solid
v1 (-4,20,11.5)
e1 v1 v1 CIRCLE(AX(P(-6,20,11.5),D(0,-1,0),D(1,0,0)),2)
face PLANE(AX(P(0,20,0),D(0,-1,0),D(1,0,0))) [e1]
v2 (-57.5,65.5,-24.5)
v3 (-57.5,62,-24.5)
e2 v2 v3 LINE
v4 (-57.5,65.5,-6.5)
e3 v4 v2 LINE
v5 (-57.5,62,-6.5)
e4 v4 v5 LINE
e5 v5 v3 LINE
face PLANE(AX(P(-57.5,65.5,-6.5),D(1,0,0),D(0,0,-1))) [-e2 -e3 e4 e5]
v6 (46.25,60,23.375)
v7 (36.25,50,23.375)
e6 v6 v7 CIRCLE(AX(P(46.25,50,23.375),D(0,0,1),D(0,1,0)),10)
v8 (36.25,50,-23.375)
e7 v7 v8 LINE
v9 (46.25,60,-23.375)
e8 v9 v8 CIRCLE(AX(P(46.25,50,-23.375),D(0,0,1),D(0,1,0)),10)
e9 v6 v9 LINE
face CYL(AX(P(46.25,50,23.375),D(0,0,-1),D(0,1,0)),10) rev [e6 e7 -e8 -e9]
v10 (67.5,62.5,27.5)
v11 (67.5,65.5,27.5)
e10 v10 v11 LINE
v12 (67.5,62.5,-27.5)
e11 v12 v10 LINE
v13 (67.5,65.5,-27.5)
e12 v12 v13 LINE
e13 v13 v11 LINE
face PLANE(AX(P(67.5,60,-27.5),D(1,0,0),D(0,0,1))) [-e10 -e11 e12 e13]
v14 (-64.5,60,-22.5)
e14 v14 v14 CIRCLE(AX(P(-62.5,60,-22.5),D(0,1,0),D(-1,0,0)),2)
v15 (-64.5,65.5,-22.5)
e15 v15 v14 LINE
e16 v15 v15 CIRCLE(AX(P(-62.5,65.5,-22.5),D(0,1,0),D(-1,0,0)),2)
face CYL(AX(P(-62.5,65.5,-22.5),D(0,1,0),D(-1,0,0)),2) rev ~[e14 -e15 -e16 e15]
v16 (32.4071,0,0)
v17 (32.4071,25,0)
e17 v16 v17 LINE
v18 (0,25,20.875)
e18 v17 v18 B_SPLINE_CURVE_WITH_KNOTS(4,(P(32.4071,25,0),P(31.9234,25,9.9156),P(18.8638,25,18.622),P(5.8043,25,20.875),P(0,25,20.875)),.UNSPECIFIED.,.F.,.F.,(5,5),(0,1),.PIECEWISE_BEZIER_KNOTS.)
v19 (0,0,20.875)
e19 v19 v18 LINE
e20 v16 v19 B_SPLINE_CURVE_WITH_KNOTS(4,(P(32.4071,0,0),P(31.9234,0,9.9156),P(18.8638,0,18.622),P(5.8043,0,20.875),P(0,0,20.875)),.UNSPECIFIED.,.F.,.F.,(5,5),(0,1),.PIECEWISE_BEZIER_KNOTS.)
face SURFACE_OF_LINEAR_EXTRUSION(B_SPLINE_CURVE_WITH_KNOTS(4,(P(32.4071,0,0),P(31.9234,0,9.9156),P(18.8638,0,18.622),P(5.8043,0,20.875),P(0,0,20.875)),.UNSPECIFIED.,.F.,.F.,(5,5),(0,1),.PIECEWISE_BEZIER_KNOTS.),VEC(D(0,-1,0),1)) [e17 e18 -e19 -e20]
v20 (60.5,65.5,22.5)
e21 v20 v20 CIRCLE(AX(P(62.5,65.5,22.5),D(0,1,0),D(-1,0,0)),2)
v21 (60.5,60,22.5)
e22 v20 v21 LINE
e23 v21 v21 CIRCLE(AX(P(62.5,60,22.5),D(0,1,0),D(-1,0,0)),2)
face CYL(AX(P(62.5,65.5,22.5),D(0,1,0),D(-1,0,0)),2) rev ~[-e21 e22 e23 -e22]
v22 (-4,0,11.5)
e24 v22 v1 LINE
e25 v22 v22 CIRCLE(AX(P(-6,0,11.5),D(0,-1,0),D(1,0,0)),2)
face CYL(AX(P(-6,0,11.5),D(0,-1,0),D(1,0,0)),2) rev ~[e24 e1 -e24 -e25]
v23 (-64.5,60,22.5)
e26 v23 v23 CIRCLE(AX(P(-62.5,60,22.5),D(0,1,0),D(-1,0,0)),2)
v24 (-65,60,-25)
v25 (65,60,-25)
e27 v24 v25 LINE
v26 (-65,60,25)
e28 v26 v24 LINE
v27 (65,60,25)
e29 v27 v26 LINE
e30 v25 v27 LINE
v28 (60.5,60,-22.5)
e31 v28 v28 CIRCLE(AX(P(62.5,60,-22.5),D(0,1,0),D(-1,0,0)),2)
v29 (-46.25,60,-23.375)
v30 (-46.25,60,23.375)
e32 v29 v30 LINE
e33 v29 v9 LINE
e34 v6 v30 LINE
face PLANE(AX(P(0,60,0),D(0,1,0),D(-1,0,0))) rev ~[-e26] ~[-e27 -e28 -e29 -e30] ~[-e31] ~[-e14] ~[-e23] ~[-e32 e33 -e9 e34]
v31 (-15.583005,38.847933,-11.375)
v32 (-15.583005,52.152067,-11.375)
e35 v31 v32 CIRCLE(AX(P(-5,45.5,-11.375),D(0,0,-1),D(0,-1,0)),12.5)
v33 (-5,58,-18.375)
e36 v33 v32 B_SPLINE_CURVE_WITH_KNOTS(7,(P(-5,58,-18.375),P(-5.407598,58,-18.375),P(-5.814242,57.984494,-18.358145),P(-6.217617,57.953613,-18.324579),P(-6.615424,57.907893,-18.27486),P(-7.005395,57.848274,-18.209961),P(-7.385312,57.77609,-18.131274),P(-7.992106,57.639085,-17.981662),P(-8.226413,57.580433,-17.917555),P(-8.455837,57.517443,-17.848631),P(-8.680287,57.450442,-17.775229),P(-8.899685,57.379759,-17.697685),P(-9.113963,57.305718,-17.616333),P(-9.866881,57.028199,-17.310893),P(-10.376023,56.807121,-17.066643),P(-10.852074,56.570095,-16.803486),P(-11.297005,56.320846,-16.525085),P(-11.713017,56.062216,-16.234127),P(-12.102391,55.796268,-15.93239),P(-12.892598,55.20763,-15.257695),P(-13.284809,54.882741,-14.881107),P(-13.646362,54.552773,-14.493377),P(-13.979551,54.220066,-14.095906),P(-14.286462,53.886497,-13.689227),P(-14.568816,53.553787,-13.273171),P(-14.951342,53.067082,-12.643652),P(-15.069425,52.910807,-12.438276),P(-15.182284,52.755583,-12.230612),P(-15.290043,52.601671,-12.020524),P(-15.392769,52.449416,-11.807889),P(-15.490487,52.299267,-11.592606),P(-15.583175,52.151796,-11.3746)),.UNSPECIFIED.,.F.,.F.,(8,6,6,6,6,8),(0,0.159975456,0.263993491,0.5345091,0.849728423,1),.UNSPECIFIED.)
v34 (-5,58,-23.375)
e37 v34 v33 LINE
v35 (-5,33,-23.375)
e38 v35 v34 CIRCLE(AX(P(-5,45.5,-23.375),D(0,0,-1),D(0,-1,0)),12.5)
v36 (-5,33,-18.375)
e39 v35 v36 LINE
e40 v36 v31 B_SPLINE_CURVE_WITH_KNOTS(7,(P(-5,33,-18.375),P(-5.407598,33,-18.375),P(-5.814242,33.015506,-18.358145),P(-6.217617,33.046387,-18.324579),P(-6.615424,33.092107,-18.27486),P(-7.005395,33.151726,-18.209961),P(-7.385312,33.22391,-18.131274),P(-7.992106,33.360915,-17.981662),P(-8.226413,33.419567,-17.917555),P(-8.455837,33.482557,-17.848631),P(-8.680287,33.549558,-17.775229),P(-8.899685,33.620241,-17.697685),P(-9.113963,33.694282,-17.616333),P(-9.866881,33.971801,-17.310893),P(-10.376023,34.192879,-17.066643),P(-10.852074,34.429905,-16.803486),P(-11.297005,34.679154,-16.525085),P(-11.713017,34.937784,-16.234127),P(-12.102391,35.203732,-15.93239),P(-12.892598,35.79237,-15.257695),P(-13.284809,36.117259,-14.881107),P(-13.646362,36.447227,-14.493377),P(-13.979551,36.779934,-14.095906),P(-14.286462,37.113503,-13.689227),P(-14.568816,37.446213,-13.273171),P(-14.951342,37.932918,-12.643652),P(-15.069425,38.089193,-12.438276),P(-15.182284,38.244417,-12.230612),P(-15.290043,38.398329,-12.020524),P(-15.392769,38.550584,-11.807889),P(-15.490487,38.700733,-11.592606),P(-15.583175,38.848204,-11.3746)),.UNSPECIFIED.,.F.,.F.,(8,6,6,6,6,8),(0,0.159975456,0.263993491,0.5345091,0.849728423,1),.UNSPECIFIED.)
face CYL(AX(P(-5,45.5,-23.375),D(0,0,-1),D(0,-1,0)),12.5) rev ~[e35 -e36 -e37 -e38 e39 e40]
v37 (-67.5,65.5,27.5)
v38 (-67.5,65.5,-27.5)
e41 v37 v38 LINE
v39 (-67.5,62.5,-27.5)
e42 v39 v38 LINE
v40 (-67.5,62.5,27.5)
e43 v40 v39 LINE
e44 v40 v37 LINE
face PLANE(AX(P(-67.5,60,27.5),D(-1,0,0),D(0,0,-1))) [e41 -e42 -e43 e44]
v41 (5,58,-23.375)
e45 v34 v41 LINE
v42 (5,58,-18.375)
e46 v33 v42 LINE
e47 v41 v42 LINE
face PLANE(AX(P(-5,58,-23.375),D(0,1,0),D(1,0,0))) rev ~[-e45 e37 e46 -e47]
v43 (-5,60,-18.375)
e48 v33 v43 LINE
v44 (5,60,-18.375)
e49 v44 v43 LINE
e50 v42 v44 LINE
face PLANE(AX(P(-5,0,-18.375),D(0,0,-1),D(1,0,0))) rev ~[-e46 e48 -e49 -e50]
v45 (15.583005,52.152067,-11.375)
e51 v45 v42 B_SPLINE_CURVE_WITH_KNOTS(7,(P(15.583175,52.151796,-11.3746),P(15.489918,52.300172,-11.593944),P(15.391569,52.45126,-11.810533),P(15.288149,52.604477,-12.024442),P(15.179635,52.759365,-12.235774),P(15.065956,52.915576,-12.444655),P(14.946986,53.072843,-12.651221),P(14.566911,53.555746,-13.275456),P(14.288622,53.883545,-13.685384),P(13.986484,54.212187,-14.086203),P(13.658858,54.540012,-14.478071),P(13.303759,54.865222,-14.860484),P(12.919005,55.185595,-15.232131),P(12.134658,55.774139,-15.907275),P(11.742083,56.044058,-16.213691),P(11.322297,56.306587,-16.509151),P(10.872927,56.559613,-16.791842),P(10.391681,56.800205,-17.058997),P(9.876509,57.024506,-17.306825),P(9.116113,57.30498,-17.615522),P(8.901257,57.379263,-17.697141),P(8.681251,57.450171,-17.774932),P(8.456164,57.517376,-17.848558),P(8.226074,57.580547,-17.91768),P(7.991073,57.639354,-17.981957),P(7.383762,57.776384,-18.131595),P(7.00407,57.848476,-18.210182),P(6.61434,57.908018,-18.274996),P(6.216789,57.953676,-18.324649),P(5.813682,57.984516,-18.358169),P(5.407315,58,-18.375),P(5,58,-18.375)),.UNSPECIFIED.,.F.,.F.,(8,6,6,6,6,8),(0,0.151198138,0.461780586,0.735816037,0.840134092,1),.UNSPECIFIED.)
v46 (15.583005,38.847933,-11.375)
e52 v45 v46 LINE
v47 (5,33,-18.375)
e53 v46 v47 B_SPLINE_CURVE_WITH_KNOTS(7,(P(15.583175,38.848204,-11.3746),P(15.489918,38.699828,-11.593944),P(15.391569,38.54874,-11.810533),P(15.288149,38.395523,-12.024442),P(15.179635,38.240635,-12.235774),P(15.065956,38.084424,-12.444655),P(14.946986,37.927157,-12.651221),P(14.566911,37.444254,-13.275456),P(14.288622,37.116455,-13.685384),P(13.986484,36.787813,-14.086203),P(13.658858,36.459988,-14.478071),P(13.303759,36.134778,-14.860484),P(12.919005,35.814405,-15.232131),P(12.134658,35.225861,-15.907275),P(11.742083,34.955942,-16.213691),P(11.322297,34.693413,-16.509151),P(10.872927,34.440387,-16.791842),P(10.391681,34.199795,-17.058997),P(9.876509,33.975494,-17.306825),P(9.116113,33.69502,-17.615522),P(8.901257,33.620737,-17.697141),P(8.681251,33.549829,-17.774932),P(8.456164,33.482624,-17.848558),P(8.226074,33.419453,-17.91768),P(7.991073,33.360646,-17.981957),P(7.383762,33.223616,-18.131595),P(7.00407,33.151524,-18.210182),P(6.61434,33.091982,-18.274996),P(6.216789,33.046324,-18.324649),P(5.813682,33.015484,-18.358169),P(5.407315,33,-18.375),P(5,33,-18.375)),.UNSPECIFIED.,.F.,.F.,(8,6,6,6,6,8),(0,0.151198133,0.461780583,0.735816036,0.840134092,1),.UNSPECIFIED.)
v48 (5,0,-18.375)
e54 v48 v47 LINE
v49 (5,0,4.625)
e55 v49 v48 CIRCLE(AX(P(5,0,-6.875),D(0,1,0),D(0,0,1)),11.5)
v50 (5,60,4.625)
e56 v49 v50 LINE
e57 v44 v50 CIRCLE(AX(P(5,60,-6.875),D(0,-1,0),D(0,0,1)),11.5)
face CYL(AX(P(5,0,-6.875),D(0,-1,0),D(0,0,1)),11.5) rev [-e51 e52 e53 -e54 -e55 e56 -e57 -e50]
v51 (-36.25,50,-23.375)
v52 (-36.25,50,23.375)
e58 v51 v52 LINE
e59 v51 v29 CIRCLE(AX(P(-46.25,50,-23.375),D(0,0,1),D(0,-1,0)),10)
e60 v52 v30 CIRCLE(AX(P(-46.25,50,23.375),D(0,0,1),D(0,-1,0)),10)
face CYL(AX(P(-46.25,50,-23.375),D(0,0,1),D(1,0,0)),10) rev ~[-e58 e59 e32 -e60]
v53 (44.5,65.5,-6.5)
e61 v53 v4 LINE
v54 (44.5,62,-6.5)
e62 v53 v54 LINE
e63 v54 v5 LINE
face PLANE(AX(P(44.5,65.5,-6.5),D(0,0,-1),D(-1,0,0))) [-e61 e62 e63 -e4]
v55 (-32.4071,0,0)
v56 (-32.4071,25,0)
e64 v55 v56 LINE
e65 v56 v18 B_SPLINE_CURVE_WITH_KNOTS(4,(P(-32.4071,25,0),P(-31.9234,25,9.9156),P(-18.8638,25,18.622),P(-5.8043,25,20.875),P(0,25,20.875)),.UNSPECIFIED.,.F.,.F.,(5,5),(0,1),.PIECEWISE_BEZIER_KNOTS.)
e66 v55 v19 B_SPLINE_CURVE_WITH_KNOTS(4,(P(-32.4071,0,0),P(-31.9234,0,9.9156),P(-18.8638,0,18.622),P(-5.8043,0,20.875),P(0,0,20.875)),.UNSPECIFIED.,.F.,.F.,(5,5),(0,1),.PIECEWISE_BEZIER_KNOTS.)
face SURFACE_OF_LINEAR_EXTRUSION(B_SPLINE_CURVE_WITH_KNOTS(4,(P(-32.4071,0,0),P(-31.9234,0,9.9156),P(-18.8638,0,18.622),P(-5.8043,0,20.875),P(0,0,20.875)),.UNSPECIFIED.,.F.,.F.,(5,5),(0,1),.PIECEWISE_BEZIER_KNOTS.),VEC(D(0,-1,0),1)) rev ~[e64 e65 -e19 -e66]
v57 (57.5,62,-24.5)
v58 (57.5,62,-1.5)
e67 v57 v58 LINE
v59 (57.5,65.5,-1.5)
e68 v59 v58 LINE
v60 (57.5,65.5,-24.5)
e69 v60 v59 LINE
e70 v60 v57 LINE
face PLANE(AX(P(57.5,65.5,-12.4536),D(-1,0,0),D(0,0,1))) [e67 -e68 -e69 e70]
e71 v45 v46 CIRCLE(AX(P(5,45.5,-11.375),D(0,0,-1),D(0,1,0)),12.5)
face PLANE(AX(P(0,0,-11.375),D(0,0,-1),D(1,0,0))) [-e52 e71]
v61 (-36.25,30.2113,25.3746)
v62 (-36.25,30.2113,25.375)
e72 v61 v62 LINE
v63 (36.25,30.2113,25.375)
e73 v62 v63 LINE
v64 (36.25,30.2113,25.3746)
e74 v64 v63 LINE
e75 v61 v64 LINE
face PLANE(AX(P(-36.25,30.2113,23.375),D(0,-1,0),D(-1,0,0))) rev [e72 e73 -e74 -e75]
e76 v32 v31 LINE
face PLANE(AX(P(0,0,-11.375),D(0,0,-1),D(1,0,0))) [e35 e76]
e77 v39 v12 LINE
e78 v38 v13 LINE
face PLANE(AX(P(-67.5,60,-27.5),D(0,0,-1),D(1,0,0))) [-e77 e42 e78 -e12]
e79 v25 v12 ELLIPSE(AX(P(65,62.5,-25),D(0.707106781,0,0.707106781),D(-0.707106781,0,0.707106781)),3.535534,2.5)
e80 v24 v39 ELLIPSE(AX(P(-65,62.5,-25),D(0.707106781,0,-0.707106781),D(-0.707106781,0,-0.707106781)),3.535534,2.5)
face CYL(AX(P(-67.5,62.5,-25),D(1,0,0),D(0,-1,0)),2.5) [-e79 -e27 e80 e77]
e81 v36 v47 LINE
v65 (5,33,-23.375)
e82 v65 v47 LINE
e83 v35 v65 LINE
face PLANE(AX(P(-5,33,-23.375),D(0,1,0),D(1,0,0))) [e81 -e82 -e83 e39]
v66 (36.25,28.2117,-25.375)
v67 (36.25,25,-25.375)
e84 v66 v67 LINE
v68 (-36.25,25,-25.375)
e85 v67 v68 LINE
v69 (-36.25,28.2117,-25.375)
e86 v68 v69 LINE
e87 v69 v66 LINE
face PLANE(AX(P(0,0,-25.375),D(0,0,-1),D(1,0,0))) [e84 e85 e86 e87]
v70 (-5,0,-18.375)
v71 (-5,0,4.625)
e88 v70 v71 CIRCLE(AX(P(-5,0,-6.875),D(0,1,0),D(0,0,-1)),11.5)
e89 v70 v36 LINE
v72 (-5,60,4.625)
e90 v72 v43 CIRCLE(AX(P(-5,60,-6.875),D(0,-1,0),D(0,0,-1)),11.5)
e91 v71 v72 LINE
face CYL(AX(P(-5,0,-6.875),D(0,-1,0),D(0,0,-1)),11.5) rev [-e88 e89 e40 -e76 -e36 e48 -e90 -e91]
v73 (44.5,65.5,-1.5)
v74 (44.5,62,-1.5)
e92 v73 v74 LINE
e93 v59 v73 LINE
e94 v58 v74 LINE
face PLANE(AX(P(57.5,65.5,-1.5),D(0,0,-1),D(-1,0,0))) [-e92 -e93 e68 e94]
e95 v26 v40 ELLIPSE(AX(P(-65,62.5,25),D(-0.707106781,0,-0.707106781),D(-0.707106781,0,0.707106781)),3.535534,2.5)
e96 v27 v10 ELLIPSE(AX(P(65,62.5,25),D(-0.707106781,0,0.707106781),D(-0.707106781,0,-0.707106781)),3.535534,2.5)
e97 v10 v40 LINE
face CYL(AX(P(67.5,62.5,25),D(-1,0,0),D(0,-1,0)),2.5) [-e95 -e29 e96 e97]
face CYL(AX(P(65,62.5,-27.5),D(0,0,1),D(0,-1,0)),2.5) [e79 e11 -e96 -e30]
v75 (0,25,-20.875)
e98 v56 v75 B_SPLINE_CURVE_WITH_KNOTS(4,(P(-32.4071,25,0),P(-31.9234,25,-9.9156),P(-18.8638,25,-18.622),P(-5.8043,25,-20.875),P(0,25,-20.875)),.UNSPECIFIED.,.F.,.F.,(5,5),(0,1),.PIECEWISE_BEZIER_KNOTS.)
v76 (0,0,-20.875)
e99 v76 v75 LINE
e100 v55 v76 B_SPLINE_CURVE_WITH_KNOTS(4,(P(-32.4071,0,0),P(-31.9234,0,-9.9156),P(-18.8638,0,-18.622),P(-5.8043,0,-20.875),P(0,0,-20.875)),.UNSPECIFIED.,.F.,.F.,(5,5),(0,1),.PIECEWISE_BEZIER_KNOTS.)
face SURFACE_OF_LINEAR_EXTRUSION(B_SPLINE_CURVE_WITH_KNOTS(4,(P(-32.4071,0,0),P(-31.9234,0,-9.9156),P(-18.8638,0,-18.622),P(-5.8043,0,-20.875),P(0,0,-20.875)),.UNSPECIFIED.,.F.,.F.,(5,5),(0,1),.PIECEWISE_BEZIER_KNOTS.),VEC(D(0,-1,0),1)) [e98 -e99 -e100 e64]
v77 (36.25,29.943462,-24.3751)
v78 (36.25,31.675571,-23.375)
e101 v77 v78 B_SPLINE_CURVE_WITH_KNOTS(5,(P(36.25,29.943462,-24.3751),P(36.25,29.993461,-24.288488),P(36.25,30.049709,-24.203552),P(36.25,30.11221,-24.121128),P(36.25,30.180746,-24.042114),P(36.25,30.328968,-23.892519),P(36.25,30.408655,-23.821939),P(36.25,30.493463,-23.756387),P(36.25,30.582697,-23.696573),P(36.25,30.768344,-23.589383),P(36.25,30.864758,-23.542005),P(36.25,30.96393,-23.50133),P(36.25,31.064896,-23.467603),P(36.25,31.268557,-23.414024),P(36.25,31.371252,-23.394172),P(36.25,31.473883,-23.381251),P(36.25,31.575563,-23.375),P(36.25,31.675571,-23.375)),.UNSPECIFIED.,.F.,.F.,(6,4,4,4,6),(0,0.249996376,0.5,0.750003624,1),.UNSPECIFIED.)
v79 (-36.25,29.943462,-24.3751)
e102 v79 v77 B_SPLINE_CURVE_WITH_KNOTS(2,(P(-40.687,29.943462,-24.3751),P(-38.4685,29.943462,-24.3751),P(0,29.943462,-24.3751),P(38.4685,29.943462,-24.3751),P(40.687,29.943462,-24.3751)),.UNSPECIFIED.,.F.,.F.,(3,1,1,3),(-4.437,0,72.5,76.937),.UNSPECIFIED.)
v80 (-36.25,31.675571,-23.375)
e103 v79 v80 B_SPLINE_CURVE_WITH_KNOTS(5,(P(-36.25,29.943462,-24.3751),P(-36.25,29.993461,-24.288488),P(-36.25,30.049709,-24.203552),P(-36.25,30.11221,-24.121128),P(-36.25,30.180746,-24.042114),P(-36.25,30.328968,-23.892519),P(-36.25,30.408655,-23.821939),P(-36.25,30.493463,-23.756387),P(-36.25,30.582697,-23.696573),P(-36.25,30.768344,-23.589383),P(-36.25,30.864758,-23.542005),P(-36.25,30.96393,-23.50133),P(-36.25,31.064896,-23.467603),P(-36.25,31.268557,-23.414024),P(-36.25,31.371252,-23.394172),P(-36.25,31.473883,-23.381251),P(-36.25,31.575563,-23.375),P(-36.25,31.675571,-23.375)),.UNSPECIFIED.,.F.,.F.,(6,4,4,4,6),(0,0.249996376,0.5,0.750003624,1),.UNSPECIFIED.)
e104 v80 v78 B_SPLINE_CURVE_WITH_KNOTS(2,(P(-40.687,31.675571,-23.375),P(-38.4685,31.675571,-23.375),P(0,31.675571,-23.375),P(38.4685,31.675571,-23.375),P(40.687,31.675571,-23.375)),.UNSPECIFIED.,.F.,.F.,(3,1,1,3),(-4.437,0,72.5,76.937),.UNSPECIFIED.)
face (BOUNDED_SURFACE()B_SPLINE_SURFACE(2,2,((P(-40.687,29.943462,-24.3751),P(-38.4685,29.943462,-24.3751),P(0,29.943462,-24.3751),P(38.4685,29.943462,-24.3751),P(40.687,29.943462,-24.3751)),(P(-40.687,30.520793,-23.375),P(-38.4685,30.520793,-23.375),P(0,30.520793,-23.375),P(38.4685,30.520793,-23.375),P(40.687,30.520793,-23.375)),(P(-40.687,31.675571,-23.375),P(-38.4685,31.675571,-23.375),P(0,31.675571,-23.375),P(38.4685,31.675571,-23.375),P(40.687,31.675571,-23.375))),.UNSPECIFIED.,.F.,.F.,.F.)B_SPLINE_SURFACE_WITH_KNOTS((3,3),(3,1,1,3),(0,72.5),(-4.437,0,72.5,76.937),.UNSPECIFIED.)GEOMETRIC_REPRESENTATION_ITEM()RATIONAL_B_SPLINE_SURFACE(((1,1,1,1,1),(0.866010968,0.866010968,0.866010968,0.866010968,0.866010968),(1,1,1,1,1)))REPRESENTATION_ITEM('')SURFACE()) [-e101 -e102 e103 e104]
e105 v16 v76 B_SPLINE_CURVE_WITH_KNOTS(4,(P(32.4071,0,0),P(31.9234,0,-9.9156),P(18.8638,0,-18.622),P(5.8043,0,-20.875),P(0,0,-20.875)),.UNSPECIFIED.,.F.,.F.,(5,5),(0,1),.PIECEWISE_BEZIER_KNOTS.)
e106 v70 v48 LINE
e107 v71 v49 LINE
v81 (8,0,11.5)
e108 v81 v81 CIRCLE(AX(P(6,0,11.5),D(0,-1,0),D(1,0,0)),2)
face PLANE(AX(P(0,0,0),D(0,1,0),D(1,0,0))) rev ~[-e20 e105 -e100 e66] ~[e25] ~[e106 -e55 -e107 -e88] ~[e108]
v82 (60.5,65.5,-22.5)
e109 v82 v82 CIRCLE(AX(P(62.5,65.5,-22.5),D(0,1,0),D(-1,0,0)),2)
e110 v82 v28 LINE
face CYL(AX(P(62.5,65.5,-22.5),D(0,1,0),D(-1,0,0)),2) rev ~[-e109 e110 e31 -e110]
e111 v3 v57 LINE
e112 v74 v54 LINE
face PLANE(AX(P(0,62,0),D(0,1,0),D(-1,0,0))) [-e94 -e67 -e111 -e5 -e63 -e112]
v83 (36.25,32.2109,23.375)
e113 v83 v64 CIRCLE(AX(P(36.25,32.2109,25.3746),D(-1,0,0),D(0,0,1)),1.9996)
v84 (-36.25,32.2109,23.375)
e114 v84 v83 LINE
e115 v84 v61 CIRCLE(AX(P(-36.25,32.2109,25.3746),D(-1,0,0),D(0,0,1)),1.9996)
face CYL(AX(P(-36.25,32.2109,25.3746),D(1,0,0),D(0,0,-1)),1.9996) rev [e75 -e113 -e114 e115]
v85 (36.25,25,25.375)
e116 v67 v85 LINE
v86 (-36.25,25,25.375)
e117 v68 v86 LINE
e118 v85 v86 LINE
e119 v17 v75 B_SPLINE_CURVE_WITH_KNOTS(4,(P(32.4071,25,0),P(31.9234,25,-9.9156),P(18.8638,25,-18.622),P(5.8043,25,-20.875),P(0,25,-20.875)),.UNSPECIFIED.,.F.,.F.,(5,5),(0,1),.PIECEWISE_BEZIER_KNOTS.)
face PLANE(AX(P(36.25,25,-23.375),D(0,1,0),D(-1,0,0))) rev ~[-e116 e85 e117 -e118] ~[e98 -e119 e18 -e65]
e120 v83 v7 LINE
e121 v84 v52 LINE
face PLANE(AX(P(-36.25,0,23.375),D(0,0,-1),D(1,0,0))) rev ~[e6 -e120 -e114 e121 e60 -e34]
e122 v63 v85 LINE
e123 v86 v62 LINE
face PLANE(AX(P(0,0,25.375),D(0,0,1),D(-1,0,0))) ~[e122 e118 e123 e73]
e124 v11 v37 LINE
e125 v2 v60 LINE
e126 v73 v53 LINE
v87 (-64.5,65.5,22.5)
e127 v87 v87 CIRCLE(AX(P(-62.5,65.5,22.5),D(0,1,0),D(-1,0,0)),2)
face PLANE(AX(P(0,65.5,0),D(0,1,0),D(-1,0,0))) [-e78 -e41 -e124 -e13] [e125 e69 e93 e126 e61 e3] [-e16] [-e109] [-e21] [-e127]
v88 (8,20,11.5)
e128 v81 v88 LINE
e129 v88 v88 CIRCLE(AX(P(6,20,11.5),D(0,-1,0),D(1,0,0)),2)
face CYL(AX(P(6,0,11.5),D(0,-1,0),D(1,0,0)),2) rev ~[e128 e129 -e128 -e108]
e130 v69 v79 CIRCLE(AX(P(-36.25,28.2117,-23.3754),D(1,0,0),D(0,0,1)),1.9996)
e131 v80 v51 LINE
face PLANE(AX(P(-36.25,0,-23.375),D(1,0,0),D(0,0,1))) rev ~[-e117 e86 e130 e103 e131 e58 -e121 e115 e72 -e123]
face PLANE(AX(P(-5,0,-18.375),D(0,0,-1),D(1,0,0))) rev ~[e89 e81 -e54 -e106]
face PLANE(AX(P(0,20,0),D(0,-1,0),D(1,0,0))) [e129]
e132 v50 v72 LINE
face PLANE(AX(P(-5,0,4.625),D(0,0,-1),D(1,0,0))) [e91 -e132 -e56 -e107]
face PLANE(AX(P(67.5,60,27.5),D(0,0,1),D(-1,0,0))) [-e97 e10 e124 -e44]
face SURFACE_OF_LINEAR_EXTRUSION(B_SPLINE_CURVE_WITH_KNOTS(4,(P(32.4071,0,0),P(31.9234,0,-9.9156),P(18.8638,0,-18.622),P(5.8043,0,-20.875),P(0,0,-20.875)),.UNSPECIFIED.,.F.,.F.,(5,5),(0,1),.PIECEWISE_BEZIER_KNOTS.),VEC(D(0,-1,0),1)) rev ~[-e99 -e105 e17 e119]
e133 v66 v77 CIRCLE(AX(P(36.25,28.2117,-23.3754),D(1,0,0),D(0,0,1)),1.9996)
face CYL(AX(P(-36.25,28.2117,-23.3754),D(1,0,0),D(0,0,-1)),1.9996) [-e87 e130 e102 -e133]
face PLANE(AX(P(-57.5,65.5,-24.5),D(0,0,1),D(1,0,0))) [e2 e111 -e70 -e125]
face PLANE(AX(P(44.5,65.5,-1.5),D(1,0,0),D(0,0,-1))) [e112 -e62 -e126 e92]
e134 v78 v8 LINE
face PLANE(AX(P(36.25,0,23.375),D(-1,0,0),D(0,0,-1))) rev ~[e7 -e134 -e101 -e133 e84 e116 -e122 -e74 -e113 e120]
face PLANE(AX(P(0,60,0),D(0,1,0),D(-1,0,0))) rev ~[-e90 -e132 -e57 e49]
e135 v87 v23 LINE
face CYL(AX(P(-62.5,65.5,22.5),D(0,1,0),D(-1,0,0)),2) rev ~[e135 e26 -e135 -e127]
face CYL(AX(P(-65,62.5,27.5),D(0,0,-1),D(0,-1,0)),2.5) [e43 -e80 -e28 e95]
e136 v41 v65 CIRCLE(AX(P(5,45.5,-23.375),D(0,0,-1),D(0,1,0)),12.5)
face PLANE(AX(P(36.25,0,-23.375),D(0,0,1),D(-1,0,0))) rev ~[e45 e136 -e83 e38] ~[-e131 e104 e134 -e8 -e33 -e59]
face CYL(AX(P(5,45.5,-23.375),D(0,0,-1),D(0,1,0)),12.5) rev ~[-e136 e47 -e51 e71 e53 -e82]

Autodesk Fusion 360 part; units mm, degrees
sketch "Sketch1" plane through (0, 0, 0) normal (0, 1, 0) x (1, 0, 0)
  line L0 (-36.25, -23.375) -> (36.25, -23.375)
  line L1 (36.25, -23.375) -> (36.25, 23.375)
  line L2 (36.25, 23.375) -> (-36.25, 23.375)
  line L3 (-36.25, 23.375) -> (-36.25, -23.375)
  dimension "d62" = 72.5
  dimension "d63" = 46.75
  dimension "d64" = 23.375
  dimension "d65" = 36.25
extrude "Extrude9" add sketch "Sketch1" along normal blind 60
sketch "Sketch8" plane through (0, 0, 0) normal (0, 1, 0) x (1, 0, 0)
  line L0 (-5, -4.625) -> (5, -4.625)
  line L1 (-5, 18.375) -> (5, 18.375)
  arc A0 (-5, 18.375) -> (-5, -4.625) centre (-5, 6.875) ccw
  arc A1 (5, -4.625) -> (5, 18.375) centre (5, 6.875) ccw
  line L2 (36.25, 23.375) -> (-36.25, 23.375)
  line L3 (36.25, 23.375) -> (-36.25, 23.375)
  dimension "d39" = 10
  dimension "d40" = 5
  dimension "d94" = 23
  dimension "d123" = 28
extrude "Extrude10" cut sketch "Sketch8" along normal blind 95
sketch "Sketch9" plane through (0, 0, -23.375) normal (0, 0, -1) x (1, 0, 0)
  line L0 (36.25, 0) -> (-36.25, 0)
  line L1 (-36.25, 0) -> (-36.25, -60)
  line L2 (-36.25, -60) -> (36.25, -60)
  line L3 (36.25, -60) -> (36.25, 0)
  line L4 (-5, -33) -> (5, -33)
  line L5 (-5, -58) -> (5, -58)
  arc A0 (-5, -33) -> (-5, -58) centre (-5, -45.5) ccw
  arc A1 (5, -58) -> (5, -33) centre (5, -45.5) ccw
  dimension "d45" = 10
  dimension "d46" = 10
  dimension "d47" = 5
  dimension "d75" = 2
  dimension "d95" = 25
extrude "Extrude11" cut sketch "Sketch9" against normal blind 12 contours L4 L5 A0 A1
sketch "Sketch10" plane through (0, 60, 0) normal (0, 1, 0) x (-1, 0, 0)
  line L0 (36.25, -23.375) -> (36.25, 23.375)
  line L1 (36.25, 23.375) -> (-36.25, 23.375)
  line L2 (-36.25, 23.375) -> (-36.25, -23.375)
  line L3 (-36.25, -23.375) -> (36.25, -23.375)
  line L4 (-67.5, 27.5) -> (67.5, 27.5)
  line L5 (67.5, 27.5) -> (67.5, -27.5)
  line L6 (67.5, -27.5) -> (-67.5, -27.5)
  line L7 (-67.5, -27.5) -> (-67.5, 27.5)
  line L8 (5, -18.375) -> (-5, -18.375)
  arc A0 (-5, 4.625) -> (-5, -18.375) centre (-5, -6.875) ccw
  line L9 (-5, 4.625) -> (5, 4.625)
  arc A1 (5, -18.375) -> (5, 4.625) centre (5, -6.875) ccw
  line L10 (57.5, -6.5) -> (57.5, -24.5)
  line L11 (57.5, -24.5) -> (-57.5, -24.5)
  line L12 (-57.5, -24.5) -> (-57.5, -1.5)
  line L13 (-57.5, -1.5) -> (-44.5, -1.5)
  line L14 (-44.5, -1.5) -> (-44.5, -6.5)
  line L15 (-57.5, -12.4536) -> (-57.5, -1.5)
  line L16 (-44.5, -6.5) -> (57.5, -6.5)
  dimension "d50" = 135
  dimension "d51" = 55
  dimension "d52" = 27.5
  dimension "d53" = 67.5
  dimension "d141" = 115
  dimension "d142" = 10
  dimension "d143" = 13
  dimension "d144" = 23
  dimension "d145" = 18
  dimension "d146" = 3
extrude "Extrude12" add sketch "Sketch10" along normal blind 5.5 contours L0 L2 L3 L8 A0 A1 L16 | L0 L2 L3 L10 L11 L12 L13 L14 L15 L16 | L0 L1 L2 A0 L9 A1 L16 | A0 L9 A1 L16 | L8 A0 A1 L16 | L4 L5 L6 L7
sketch "Sketch13" plane through (0, 0, -23.375) normal (0, 0, -1) x (1, 0, 0)
  line L0 (5, -58) -> (-5, -58)
  arc A0 (-5, -33) -> (-5, -58) centre (-5, -45.5) ccw
  line L1 (-5, -33) -> (5, -33)
  arc A1 (5, -58) -> (5, -33) centre (5, -45.5) ccw
  line L2 (36.25, 0) -> (-36.25, 0)
  line L3 (-36.25, 0) -> (-36.25, -60)
  line L4 (-36.25, -60) -> (36.25, -60)
  line L5 (36.25, -60) -> (36.25, 0)
  line L6 (-36.25, -30.2113) -> (36.25, -30.2113)
  line L7 (36.25, -30.2113) -> (36.25, -25)
  line L8 (36.25, -25) -> (-36.25, -25)
  line L9 (-36.25, -25) -> (-36.25, -30.2113)
  dimension "d113" = 25
extrude "Extrude17" add sketch "Sketch13" along normal blind 2 contours L3 L5 L6 L7 L8 L9
sketch "Sketch14" plane through (0, 65.5, 0) normal (0, 1, 0) x (-1, 0, 0)
  line L0 (-67.5, -27.5) -> (67.5, -27.5)
  line L1 (67.5, -27.5) -> (67.5, 27.5)
  line L2 (67.5, 27.5) -> (-67.5, 27.5)
  line L3 (-67.5, 27.5) -> (-67.5, -27.5)
  circle A0 centre (-62.5, 22.5) radius 2
  circle A1 centre (-62.5, -22.5) radius 2
  circle A2 centre (62.5, 22.5) radius 2
  circle A3 centre (62.5, -22.5) radius 2
  dimension "d78" = 4
  dimension "d79" = 4
  dimension "d80" = 4
  dimension "d81" = 4
  dimension "d83" = 5
  dimension "d84" = 5
  dimension "d85" = 5
  dimension "d86" = 5
  dimension "d88" = 5
  dimension "d89" = 5
  dimension "d90" = 5
  dimension "d91" = 5
extrude "Extrude18" cut sketch "Sketch14" against normal blind 15 contours A0 | A1 | A2 | A3
fillet "Fillet1" radius 2 2 edges at (0, 30.2113, -25.375) (0, 30.2113, -23.375)
sketch "Sketch15" plane through (0, 0, 0) normal (0, -1, 0) x (1, 0, 0)
  line L0 (5, -18.375) -> (-5, -18.375)
  arc A0 (-5, 4.625) -> (-5, -18.375) centre (-5, -6.875) ccw
  line L1 (-5, 4.625) -> (5, 4.625)
  arc A1 (5, -18.375) -> (5, 4.625) centre (5, -6.875) ccw
  line L2 (-36.25, 23.375) -> (-36.25, -23.375)
  line L3 (-36.25, -23.375) -> (36.25, -23.375)
  line L4 (36.25, -23.375) -> (36.25, 23.375)
  line L5 (36.25, 23.375) -> (-36.25, 23.375)
  circle A2 centre (-6, 11.5) radius 2
  circle A3 centre (6, 11.5) radius 2
  dimension "d99" = 4
  dimension "d100" = 4
  dimension "d101" = 12
  dimension "d102" = 6
  dimension "d103" = 6
  dimension "d140" = 11.5
extrude "Extrude19" cut sketch "Sketch15" against normal blind 20 contours A2 | A3
ref_plane "WorkPlane1" through (0, 30, 0) normal (0, 0, -1) x (-1, 0, 0)
mirror "Mirror2" about plane through (0, 30, 0) normal (0, 0, -1) of "Extrude17"
sketch "Sketch17" plane through (0, 0, 0) normal (0, -1, 0) x (1, 0, 0)
  line L0 (5, -18.375) -> (-5, -18.375)
  arc A0 (-5, 4.625) -> (-5, -18.375) centre (-5, -6.875) ccw
  line L1 (-5, 4.625) -> (5, 4.625)
  arc A1 (5, -18.375) -> (5, 4.625) centre (5, -6.875) ccw
  line L2 (-36.25, 23.375) -> (-36.25, -23.375)
  line L3 (-36.25, -23.375) -> (36.25, -23.375)
  line L4 (36.25, -23.375) -> (36.25, 23.375)
  line L5 (36.25, 23.375) -> (-36.25, 23.375)
  circle A2 centre (-5, -6.875) radius 3
  circle A3 centre (5, -6.875) radius 3
  line L6 (-5, 4.625) -> (5, 4.625)
  line L7 (-5, -18.375) -> (5, -18.375)
  circle A4 centre (-6, 11.5) radius 2
  circle A5 centre (6, 11.5) radius 2
  dimension "d114" = 6
fillet "Fillet3" radius 2.5 4 edges at (0, 60, 27.5) (-67.5, 60, 0) (67.5, 60, 0) (0, 60, -27.5)
fillet "Fillet7" radius 2 1 edges at (0, 30.2113, 23.375)
fillet "Fillet10" radius 10 2 edges at (36.25, 60, 0) (-36.25, 60, 0)
sketch "Sketch18" plane through (0, 0, 0) normal (0, -1, 0) x (1, 0, 0)
  circle A0 centre (-6, 11.5) radius 2
  circle A1 centre (6, 11.5) radius 2
  line L0 (5, -18.375) -> (-5, -18.375)
  arc A2 (-5, 4.625) -> (-5, -18.375) centre (-5, -6.875) ccw
  line L1 (-5, 4.625) -> (5, 4.625)
  arc A3 (5, -18.375) -> (5, 4.625) centre (5, -6.875) ccw
  line L2 (-36.25, 23.375) -> (-36.25, -23.375)
  line L3 (-36.25, -23.375) -> (36.25, -23.375)
  line L4 (36.25, -23.375) -> (36.25, 23.375)
  line L5 (36.25, 23.375) -> (-36.25, 23.375)
  line L6 (-33.75, -20.875) -> (33.75, -20.875)
  line L7 (33.75, -20.875) -> (33.75, 20.875)
  line L8 (33.75, 20.875) -> (-33.75, 20.875)
  line L9 (-33.75, 20.875) -> (-33.75, -20.875)
  dimension "d134" = -2.5
extrude "Extrude21" cut sketch "Sketch18" against normal blind 25 contours L2 L3 L4 L5
sketch "Sketch19" plane through (0, 0, 0) normal (0, -1, 0) x (1, 0, 0)
  line L0 (33.75, 20.875) -> (-33.75, 20.875)
  line L1 (-33.75, 20.875) -> (-33.75, -20.875)
  line L2 (-33.75, -20.875) -> (33.75, -20.875)
  line L3 (33.75, -20.875) -> (33.75, 20.875)
  circle A0 centre (-6, 11.5) radius 2
  circle A1 centre (6, 11.5) radius 2
  line L4 (5, -18.375) -> (-5, -18.375)
  arc A2 (-5, 4.625) -> (-5, -18.375) centre (-5, -6.875) ccw
  line L5 (-5, 4.625) -> (5, 4.625)
  arc A3 (5, -18.375) -> (5, 4.625) centre (5, -6.875) ccw
  line L6 (-32.4071, 0) -> (-31.9234, 9.9156) construction
  line L7 (-31.9234, 9.9156) -> (-18.8638, 18.622) construction
  line L8 (-18.8638, 18.622) -> (-5.8043, 20.875) construction
  line L9 (-5.8043, 20.875) -> (0, 20.875) construction
  spline S0 degree 4 poles (-32.4071, 0) (-31.9234, 9.9156) (-18.8638, 18.622) (-5.8043, 20.875) (0, 20.875) knots 0 0 0 0 0 1 1 1 1 1
  line L10 (-78.035, 0) -> (72.5532, 0) construction
  line L11 (0, 0) -> (0, 55.866) construction
  spline S1 degree 4 poles (32.4071, 0) (31.9234, 9.9156) (18.8638, 18.622) (5.8043, 20.875) (0, 20.875) knots 0 0 0 0 0 1 1 1 1 1
  line L12 (32.4071, 0) -> (31.9234, 9.9156) construction
  line L13 (31.9234, 9.9156) -> (18.8638, 18.622) construction
  line L14 (18.8638, 18.622) -> (5.8043, 20.875) construction
  line L15 (5.8043, 20.875) -> (0, 20.875) construction
  spline S2 degree 4 poles (-32.4071, 0) (-31.9234, -9.9156) (-18.8638, -18.622) (-5.8043, -20.875) (0, -20.875) knots 0 0 0 0 0 1 1 1 1 1
  line L16 (-32.4071, 0) -> (-31.9234, -9.9156) construction
  line L17 (-31.9234, -9.9156) -> (-18.8638, -18.622) construction
  line L18 (-18.8638, -18.622) -> (-5.8043, -20.875) construction
  line L19 (-5.8043, -20.875) -> (0, -20.875) construction
  spline S3 degree 4 poles (32.4071, 0) (31.9234, -9.9156) (18.8638, -18.622) (5.8043, -20.875) (0, -20.875) knots 0 0 0 0 0 1 1 1 1 1
  line L20 (32.4071, 0) -> (31.9234, -9.9156) construction
  line L21 (31.9234, -9.9156) -> (18.8638, -18.622) construction
  line L22 (18.8638, -18.622) -> (5.8043, -20.875) construction
  line L23 (5.8043, -20.875) -> (0, -20.875) construction
extrude "Extrude22" cut sketch "Sketch19" against normal blind 25 contours L0 L2 L3 S1 S3 | L0 L1 L2 S0 S2
sketch "Sketch20" plane through (0, 65.5, 0) normal (0, 1, 0) x (-1, 0, 0)
  line L0 (-44.5, -6.5) -> (57.5, -6.5)
  line L1 (-44.5, -1.5) -> (-44.5, -6.5)
  line L2 (-57.5, -1.5) -> (-44.5, -1.5)
  line L3 (57.5, -6.5) -> (57.5, -24.5)
  line L4 (-57.5, -24.5) -> (-57.5, -1.5)
  line L5 (57.5, -24.5) -> (-57.5, -24.5)
  line L6 (-57.5, -12.4536) -> (-57.5, -1.5)
  line L7 (-67.5, -27.5) -> (-67.5, 27.5)
  line L8 (67.5, -27.5) -> (-67.5, -27.5)
  dimension "d147" = 115
  dimension "d148" = 13
  dimension "d149" = 23
  dimension "d150" = 18
  dimension "d151" = 10
  dimension "d152" = 3
extrude "Extrude23" cut sketch "Sketch20" against normal blind 3.5
equation "d52 = ( 55 / 2 ) * 1 mm"
equation "d53 = ( 135 / 2 ) * 1 mm"
equation "d64 = ( 46.75 / 2 ) * 1 mm"
equation "d65 = ( 72.5 / 2 ) * 1 mm"
equation "d108 = -( ( 46.75 / 2 ) * 1 mm )"
